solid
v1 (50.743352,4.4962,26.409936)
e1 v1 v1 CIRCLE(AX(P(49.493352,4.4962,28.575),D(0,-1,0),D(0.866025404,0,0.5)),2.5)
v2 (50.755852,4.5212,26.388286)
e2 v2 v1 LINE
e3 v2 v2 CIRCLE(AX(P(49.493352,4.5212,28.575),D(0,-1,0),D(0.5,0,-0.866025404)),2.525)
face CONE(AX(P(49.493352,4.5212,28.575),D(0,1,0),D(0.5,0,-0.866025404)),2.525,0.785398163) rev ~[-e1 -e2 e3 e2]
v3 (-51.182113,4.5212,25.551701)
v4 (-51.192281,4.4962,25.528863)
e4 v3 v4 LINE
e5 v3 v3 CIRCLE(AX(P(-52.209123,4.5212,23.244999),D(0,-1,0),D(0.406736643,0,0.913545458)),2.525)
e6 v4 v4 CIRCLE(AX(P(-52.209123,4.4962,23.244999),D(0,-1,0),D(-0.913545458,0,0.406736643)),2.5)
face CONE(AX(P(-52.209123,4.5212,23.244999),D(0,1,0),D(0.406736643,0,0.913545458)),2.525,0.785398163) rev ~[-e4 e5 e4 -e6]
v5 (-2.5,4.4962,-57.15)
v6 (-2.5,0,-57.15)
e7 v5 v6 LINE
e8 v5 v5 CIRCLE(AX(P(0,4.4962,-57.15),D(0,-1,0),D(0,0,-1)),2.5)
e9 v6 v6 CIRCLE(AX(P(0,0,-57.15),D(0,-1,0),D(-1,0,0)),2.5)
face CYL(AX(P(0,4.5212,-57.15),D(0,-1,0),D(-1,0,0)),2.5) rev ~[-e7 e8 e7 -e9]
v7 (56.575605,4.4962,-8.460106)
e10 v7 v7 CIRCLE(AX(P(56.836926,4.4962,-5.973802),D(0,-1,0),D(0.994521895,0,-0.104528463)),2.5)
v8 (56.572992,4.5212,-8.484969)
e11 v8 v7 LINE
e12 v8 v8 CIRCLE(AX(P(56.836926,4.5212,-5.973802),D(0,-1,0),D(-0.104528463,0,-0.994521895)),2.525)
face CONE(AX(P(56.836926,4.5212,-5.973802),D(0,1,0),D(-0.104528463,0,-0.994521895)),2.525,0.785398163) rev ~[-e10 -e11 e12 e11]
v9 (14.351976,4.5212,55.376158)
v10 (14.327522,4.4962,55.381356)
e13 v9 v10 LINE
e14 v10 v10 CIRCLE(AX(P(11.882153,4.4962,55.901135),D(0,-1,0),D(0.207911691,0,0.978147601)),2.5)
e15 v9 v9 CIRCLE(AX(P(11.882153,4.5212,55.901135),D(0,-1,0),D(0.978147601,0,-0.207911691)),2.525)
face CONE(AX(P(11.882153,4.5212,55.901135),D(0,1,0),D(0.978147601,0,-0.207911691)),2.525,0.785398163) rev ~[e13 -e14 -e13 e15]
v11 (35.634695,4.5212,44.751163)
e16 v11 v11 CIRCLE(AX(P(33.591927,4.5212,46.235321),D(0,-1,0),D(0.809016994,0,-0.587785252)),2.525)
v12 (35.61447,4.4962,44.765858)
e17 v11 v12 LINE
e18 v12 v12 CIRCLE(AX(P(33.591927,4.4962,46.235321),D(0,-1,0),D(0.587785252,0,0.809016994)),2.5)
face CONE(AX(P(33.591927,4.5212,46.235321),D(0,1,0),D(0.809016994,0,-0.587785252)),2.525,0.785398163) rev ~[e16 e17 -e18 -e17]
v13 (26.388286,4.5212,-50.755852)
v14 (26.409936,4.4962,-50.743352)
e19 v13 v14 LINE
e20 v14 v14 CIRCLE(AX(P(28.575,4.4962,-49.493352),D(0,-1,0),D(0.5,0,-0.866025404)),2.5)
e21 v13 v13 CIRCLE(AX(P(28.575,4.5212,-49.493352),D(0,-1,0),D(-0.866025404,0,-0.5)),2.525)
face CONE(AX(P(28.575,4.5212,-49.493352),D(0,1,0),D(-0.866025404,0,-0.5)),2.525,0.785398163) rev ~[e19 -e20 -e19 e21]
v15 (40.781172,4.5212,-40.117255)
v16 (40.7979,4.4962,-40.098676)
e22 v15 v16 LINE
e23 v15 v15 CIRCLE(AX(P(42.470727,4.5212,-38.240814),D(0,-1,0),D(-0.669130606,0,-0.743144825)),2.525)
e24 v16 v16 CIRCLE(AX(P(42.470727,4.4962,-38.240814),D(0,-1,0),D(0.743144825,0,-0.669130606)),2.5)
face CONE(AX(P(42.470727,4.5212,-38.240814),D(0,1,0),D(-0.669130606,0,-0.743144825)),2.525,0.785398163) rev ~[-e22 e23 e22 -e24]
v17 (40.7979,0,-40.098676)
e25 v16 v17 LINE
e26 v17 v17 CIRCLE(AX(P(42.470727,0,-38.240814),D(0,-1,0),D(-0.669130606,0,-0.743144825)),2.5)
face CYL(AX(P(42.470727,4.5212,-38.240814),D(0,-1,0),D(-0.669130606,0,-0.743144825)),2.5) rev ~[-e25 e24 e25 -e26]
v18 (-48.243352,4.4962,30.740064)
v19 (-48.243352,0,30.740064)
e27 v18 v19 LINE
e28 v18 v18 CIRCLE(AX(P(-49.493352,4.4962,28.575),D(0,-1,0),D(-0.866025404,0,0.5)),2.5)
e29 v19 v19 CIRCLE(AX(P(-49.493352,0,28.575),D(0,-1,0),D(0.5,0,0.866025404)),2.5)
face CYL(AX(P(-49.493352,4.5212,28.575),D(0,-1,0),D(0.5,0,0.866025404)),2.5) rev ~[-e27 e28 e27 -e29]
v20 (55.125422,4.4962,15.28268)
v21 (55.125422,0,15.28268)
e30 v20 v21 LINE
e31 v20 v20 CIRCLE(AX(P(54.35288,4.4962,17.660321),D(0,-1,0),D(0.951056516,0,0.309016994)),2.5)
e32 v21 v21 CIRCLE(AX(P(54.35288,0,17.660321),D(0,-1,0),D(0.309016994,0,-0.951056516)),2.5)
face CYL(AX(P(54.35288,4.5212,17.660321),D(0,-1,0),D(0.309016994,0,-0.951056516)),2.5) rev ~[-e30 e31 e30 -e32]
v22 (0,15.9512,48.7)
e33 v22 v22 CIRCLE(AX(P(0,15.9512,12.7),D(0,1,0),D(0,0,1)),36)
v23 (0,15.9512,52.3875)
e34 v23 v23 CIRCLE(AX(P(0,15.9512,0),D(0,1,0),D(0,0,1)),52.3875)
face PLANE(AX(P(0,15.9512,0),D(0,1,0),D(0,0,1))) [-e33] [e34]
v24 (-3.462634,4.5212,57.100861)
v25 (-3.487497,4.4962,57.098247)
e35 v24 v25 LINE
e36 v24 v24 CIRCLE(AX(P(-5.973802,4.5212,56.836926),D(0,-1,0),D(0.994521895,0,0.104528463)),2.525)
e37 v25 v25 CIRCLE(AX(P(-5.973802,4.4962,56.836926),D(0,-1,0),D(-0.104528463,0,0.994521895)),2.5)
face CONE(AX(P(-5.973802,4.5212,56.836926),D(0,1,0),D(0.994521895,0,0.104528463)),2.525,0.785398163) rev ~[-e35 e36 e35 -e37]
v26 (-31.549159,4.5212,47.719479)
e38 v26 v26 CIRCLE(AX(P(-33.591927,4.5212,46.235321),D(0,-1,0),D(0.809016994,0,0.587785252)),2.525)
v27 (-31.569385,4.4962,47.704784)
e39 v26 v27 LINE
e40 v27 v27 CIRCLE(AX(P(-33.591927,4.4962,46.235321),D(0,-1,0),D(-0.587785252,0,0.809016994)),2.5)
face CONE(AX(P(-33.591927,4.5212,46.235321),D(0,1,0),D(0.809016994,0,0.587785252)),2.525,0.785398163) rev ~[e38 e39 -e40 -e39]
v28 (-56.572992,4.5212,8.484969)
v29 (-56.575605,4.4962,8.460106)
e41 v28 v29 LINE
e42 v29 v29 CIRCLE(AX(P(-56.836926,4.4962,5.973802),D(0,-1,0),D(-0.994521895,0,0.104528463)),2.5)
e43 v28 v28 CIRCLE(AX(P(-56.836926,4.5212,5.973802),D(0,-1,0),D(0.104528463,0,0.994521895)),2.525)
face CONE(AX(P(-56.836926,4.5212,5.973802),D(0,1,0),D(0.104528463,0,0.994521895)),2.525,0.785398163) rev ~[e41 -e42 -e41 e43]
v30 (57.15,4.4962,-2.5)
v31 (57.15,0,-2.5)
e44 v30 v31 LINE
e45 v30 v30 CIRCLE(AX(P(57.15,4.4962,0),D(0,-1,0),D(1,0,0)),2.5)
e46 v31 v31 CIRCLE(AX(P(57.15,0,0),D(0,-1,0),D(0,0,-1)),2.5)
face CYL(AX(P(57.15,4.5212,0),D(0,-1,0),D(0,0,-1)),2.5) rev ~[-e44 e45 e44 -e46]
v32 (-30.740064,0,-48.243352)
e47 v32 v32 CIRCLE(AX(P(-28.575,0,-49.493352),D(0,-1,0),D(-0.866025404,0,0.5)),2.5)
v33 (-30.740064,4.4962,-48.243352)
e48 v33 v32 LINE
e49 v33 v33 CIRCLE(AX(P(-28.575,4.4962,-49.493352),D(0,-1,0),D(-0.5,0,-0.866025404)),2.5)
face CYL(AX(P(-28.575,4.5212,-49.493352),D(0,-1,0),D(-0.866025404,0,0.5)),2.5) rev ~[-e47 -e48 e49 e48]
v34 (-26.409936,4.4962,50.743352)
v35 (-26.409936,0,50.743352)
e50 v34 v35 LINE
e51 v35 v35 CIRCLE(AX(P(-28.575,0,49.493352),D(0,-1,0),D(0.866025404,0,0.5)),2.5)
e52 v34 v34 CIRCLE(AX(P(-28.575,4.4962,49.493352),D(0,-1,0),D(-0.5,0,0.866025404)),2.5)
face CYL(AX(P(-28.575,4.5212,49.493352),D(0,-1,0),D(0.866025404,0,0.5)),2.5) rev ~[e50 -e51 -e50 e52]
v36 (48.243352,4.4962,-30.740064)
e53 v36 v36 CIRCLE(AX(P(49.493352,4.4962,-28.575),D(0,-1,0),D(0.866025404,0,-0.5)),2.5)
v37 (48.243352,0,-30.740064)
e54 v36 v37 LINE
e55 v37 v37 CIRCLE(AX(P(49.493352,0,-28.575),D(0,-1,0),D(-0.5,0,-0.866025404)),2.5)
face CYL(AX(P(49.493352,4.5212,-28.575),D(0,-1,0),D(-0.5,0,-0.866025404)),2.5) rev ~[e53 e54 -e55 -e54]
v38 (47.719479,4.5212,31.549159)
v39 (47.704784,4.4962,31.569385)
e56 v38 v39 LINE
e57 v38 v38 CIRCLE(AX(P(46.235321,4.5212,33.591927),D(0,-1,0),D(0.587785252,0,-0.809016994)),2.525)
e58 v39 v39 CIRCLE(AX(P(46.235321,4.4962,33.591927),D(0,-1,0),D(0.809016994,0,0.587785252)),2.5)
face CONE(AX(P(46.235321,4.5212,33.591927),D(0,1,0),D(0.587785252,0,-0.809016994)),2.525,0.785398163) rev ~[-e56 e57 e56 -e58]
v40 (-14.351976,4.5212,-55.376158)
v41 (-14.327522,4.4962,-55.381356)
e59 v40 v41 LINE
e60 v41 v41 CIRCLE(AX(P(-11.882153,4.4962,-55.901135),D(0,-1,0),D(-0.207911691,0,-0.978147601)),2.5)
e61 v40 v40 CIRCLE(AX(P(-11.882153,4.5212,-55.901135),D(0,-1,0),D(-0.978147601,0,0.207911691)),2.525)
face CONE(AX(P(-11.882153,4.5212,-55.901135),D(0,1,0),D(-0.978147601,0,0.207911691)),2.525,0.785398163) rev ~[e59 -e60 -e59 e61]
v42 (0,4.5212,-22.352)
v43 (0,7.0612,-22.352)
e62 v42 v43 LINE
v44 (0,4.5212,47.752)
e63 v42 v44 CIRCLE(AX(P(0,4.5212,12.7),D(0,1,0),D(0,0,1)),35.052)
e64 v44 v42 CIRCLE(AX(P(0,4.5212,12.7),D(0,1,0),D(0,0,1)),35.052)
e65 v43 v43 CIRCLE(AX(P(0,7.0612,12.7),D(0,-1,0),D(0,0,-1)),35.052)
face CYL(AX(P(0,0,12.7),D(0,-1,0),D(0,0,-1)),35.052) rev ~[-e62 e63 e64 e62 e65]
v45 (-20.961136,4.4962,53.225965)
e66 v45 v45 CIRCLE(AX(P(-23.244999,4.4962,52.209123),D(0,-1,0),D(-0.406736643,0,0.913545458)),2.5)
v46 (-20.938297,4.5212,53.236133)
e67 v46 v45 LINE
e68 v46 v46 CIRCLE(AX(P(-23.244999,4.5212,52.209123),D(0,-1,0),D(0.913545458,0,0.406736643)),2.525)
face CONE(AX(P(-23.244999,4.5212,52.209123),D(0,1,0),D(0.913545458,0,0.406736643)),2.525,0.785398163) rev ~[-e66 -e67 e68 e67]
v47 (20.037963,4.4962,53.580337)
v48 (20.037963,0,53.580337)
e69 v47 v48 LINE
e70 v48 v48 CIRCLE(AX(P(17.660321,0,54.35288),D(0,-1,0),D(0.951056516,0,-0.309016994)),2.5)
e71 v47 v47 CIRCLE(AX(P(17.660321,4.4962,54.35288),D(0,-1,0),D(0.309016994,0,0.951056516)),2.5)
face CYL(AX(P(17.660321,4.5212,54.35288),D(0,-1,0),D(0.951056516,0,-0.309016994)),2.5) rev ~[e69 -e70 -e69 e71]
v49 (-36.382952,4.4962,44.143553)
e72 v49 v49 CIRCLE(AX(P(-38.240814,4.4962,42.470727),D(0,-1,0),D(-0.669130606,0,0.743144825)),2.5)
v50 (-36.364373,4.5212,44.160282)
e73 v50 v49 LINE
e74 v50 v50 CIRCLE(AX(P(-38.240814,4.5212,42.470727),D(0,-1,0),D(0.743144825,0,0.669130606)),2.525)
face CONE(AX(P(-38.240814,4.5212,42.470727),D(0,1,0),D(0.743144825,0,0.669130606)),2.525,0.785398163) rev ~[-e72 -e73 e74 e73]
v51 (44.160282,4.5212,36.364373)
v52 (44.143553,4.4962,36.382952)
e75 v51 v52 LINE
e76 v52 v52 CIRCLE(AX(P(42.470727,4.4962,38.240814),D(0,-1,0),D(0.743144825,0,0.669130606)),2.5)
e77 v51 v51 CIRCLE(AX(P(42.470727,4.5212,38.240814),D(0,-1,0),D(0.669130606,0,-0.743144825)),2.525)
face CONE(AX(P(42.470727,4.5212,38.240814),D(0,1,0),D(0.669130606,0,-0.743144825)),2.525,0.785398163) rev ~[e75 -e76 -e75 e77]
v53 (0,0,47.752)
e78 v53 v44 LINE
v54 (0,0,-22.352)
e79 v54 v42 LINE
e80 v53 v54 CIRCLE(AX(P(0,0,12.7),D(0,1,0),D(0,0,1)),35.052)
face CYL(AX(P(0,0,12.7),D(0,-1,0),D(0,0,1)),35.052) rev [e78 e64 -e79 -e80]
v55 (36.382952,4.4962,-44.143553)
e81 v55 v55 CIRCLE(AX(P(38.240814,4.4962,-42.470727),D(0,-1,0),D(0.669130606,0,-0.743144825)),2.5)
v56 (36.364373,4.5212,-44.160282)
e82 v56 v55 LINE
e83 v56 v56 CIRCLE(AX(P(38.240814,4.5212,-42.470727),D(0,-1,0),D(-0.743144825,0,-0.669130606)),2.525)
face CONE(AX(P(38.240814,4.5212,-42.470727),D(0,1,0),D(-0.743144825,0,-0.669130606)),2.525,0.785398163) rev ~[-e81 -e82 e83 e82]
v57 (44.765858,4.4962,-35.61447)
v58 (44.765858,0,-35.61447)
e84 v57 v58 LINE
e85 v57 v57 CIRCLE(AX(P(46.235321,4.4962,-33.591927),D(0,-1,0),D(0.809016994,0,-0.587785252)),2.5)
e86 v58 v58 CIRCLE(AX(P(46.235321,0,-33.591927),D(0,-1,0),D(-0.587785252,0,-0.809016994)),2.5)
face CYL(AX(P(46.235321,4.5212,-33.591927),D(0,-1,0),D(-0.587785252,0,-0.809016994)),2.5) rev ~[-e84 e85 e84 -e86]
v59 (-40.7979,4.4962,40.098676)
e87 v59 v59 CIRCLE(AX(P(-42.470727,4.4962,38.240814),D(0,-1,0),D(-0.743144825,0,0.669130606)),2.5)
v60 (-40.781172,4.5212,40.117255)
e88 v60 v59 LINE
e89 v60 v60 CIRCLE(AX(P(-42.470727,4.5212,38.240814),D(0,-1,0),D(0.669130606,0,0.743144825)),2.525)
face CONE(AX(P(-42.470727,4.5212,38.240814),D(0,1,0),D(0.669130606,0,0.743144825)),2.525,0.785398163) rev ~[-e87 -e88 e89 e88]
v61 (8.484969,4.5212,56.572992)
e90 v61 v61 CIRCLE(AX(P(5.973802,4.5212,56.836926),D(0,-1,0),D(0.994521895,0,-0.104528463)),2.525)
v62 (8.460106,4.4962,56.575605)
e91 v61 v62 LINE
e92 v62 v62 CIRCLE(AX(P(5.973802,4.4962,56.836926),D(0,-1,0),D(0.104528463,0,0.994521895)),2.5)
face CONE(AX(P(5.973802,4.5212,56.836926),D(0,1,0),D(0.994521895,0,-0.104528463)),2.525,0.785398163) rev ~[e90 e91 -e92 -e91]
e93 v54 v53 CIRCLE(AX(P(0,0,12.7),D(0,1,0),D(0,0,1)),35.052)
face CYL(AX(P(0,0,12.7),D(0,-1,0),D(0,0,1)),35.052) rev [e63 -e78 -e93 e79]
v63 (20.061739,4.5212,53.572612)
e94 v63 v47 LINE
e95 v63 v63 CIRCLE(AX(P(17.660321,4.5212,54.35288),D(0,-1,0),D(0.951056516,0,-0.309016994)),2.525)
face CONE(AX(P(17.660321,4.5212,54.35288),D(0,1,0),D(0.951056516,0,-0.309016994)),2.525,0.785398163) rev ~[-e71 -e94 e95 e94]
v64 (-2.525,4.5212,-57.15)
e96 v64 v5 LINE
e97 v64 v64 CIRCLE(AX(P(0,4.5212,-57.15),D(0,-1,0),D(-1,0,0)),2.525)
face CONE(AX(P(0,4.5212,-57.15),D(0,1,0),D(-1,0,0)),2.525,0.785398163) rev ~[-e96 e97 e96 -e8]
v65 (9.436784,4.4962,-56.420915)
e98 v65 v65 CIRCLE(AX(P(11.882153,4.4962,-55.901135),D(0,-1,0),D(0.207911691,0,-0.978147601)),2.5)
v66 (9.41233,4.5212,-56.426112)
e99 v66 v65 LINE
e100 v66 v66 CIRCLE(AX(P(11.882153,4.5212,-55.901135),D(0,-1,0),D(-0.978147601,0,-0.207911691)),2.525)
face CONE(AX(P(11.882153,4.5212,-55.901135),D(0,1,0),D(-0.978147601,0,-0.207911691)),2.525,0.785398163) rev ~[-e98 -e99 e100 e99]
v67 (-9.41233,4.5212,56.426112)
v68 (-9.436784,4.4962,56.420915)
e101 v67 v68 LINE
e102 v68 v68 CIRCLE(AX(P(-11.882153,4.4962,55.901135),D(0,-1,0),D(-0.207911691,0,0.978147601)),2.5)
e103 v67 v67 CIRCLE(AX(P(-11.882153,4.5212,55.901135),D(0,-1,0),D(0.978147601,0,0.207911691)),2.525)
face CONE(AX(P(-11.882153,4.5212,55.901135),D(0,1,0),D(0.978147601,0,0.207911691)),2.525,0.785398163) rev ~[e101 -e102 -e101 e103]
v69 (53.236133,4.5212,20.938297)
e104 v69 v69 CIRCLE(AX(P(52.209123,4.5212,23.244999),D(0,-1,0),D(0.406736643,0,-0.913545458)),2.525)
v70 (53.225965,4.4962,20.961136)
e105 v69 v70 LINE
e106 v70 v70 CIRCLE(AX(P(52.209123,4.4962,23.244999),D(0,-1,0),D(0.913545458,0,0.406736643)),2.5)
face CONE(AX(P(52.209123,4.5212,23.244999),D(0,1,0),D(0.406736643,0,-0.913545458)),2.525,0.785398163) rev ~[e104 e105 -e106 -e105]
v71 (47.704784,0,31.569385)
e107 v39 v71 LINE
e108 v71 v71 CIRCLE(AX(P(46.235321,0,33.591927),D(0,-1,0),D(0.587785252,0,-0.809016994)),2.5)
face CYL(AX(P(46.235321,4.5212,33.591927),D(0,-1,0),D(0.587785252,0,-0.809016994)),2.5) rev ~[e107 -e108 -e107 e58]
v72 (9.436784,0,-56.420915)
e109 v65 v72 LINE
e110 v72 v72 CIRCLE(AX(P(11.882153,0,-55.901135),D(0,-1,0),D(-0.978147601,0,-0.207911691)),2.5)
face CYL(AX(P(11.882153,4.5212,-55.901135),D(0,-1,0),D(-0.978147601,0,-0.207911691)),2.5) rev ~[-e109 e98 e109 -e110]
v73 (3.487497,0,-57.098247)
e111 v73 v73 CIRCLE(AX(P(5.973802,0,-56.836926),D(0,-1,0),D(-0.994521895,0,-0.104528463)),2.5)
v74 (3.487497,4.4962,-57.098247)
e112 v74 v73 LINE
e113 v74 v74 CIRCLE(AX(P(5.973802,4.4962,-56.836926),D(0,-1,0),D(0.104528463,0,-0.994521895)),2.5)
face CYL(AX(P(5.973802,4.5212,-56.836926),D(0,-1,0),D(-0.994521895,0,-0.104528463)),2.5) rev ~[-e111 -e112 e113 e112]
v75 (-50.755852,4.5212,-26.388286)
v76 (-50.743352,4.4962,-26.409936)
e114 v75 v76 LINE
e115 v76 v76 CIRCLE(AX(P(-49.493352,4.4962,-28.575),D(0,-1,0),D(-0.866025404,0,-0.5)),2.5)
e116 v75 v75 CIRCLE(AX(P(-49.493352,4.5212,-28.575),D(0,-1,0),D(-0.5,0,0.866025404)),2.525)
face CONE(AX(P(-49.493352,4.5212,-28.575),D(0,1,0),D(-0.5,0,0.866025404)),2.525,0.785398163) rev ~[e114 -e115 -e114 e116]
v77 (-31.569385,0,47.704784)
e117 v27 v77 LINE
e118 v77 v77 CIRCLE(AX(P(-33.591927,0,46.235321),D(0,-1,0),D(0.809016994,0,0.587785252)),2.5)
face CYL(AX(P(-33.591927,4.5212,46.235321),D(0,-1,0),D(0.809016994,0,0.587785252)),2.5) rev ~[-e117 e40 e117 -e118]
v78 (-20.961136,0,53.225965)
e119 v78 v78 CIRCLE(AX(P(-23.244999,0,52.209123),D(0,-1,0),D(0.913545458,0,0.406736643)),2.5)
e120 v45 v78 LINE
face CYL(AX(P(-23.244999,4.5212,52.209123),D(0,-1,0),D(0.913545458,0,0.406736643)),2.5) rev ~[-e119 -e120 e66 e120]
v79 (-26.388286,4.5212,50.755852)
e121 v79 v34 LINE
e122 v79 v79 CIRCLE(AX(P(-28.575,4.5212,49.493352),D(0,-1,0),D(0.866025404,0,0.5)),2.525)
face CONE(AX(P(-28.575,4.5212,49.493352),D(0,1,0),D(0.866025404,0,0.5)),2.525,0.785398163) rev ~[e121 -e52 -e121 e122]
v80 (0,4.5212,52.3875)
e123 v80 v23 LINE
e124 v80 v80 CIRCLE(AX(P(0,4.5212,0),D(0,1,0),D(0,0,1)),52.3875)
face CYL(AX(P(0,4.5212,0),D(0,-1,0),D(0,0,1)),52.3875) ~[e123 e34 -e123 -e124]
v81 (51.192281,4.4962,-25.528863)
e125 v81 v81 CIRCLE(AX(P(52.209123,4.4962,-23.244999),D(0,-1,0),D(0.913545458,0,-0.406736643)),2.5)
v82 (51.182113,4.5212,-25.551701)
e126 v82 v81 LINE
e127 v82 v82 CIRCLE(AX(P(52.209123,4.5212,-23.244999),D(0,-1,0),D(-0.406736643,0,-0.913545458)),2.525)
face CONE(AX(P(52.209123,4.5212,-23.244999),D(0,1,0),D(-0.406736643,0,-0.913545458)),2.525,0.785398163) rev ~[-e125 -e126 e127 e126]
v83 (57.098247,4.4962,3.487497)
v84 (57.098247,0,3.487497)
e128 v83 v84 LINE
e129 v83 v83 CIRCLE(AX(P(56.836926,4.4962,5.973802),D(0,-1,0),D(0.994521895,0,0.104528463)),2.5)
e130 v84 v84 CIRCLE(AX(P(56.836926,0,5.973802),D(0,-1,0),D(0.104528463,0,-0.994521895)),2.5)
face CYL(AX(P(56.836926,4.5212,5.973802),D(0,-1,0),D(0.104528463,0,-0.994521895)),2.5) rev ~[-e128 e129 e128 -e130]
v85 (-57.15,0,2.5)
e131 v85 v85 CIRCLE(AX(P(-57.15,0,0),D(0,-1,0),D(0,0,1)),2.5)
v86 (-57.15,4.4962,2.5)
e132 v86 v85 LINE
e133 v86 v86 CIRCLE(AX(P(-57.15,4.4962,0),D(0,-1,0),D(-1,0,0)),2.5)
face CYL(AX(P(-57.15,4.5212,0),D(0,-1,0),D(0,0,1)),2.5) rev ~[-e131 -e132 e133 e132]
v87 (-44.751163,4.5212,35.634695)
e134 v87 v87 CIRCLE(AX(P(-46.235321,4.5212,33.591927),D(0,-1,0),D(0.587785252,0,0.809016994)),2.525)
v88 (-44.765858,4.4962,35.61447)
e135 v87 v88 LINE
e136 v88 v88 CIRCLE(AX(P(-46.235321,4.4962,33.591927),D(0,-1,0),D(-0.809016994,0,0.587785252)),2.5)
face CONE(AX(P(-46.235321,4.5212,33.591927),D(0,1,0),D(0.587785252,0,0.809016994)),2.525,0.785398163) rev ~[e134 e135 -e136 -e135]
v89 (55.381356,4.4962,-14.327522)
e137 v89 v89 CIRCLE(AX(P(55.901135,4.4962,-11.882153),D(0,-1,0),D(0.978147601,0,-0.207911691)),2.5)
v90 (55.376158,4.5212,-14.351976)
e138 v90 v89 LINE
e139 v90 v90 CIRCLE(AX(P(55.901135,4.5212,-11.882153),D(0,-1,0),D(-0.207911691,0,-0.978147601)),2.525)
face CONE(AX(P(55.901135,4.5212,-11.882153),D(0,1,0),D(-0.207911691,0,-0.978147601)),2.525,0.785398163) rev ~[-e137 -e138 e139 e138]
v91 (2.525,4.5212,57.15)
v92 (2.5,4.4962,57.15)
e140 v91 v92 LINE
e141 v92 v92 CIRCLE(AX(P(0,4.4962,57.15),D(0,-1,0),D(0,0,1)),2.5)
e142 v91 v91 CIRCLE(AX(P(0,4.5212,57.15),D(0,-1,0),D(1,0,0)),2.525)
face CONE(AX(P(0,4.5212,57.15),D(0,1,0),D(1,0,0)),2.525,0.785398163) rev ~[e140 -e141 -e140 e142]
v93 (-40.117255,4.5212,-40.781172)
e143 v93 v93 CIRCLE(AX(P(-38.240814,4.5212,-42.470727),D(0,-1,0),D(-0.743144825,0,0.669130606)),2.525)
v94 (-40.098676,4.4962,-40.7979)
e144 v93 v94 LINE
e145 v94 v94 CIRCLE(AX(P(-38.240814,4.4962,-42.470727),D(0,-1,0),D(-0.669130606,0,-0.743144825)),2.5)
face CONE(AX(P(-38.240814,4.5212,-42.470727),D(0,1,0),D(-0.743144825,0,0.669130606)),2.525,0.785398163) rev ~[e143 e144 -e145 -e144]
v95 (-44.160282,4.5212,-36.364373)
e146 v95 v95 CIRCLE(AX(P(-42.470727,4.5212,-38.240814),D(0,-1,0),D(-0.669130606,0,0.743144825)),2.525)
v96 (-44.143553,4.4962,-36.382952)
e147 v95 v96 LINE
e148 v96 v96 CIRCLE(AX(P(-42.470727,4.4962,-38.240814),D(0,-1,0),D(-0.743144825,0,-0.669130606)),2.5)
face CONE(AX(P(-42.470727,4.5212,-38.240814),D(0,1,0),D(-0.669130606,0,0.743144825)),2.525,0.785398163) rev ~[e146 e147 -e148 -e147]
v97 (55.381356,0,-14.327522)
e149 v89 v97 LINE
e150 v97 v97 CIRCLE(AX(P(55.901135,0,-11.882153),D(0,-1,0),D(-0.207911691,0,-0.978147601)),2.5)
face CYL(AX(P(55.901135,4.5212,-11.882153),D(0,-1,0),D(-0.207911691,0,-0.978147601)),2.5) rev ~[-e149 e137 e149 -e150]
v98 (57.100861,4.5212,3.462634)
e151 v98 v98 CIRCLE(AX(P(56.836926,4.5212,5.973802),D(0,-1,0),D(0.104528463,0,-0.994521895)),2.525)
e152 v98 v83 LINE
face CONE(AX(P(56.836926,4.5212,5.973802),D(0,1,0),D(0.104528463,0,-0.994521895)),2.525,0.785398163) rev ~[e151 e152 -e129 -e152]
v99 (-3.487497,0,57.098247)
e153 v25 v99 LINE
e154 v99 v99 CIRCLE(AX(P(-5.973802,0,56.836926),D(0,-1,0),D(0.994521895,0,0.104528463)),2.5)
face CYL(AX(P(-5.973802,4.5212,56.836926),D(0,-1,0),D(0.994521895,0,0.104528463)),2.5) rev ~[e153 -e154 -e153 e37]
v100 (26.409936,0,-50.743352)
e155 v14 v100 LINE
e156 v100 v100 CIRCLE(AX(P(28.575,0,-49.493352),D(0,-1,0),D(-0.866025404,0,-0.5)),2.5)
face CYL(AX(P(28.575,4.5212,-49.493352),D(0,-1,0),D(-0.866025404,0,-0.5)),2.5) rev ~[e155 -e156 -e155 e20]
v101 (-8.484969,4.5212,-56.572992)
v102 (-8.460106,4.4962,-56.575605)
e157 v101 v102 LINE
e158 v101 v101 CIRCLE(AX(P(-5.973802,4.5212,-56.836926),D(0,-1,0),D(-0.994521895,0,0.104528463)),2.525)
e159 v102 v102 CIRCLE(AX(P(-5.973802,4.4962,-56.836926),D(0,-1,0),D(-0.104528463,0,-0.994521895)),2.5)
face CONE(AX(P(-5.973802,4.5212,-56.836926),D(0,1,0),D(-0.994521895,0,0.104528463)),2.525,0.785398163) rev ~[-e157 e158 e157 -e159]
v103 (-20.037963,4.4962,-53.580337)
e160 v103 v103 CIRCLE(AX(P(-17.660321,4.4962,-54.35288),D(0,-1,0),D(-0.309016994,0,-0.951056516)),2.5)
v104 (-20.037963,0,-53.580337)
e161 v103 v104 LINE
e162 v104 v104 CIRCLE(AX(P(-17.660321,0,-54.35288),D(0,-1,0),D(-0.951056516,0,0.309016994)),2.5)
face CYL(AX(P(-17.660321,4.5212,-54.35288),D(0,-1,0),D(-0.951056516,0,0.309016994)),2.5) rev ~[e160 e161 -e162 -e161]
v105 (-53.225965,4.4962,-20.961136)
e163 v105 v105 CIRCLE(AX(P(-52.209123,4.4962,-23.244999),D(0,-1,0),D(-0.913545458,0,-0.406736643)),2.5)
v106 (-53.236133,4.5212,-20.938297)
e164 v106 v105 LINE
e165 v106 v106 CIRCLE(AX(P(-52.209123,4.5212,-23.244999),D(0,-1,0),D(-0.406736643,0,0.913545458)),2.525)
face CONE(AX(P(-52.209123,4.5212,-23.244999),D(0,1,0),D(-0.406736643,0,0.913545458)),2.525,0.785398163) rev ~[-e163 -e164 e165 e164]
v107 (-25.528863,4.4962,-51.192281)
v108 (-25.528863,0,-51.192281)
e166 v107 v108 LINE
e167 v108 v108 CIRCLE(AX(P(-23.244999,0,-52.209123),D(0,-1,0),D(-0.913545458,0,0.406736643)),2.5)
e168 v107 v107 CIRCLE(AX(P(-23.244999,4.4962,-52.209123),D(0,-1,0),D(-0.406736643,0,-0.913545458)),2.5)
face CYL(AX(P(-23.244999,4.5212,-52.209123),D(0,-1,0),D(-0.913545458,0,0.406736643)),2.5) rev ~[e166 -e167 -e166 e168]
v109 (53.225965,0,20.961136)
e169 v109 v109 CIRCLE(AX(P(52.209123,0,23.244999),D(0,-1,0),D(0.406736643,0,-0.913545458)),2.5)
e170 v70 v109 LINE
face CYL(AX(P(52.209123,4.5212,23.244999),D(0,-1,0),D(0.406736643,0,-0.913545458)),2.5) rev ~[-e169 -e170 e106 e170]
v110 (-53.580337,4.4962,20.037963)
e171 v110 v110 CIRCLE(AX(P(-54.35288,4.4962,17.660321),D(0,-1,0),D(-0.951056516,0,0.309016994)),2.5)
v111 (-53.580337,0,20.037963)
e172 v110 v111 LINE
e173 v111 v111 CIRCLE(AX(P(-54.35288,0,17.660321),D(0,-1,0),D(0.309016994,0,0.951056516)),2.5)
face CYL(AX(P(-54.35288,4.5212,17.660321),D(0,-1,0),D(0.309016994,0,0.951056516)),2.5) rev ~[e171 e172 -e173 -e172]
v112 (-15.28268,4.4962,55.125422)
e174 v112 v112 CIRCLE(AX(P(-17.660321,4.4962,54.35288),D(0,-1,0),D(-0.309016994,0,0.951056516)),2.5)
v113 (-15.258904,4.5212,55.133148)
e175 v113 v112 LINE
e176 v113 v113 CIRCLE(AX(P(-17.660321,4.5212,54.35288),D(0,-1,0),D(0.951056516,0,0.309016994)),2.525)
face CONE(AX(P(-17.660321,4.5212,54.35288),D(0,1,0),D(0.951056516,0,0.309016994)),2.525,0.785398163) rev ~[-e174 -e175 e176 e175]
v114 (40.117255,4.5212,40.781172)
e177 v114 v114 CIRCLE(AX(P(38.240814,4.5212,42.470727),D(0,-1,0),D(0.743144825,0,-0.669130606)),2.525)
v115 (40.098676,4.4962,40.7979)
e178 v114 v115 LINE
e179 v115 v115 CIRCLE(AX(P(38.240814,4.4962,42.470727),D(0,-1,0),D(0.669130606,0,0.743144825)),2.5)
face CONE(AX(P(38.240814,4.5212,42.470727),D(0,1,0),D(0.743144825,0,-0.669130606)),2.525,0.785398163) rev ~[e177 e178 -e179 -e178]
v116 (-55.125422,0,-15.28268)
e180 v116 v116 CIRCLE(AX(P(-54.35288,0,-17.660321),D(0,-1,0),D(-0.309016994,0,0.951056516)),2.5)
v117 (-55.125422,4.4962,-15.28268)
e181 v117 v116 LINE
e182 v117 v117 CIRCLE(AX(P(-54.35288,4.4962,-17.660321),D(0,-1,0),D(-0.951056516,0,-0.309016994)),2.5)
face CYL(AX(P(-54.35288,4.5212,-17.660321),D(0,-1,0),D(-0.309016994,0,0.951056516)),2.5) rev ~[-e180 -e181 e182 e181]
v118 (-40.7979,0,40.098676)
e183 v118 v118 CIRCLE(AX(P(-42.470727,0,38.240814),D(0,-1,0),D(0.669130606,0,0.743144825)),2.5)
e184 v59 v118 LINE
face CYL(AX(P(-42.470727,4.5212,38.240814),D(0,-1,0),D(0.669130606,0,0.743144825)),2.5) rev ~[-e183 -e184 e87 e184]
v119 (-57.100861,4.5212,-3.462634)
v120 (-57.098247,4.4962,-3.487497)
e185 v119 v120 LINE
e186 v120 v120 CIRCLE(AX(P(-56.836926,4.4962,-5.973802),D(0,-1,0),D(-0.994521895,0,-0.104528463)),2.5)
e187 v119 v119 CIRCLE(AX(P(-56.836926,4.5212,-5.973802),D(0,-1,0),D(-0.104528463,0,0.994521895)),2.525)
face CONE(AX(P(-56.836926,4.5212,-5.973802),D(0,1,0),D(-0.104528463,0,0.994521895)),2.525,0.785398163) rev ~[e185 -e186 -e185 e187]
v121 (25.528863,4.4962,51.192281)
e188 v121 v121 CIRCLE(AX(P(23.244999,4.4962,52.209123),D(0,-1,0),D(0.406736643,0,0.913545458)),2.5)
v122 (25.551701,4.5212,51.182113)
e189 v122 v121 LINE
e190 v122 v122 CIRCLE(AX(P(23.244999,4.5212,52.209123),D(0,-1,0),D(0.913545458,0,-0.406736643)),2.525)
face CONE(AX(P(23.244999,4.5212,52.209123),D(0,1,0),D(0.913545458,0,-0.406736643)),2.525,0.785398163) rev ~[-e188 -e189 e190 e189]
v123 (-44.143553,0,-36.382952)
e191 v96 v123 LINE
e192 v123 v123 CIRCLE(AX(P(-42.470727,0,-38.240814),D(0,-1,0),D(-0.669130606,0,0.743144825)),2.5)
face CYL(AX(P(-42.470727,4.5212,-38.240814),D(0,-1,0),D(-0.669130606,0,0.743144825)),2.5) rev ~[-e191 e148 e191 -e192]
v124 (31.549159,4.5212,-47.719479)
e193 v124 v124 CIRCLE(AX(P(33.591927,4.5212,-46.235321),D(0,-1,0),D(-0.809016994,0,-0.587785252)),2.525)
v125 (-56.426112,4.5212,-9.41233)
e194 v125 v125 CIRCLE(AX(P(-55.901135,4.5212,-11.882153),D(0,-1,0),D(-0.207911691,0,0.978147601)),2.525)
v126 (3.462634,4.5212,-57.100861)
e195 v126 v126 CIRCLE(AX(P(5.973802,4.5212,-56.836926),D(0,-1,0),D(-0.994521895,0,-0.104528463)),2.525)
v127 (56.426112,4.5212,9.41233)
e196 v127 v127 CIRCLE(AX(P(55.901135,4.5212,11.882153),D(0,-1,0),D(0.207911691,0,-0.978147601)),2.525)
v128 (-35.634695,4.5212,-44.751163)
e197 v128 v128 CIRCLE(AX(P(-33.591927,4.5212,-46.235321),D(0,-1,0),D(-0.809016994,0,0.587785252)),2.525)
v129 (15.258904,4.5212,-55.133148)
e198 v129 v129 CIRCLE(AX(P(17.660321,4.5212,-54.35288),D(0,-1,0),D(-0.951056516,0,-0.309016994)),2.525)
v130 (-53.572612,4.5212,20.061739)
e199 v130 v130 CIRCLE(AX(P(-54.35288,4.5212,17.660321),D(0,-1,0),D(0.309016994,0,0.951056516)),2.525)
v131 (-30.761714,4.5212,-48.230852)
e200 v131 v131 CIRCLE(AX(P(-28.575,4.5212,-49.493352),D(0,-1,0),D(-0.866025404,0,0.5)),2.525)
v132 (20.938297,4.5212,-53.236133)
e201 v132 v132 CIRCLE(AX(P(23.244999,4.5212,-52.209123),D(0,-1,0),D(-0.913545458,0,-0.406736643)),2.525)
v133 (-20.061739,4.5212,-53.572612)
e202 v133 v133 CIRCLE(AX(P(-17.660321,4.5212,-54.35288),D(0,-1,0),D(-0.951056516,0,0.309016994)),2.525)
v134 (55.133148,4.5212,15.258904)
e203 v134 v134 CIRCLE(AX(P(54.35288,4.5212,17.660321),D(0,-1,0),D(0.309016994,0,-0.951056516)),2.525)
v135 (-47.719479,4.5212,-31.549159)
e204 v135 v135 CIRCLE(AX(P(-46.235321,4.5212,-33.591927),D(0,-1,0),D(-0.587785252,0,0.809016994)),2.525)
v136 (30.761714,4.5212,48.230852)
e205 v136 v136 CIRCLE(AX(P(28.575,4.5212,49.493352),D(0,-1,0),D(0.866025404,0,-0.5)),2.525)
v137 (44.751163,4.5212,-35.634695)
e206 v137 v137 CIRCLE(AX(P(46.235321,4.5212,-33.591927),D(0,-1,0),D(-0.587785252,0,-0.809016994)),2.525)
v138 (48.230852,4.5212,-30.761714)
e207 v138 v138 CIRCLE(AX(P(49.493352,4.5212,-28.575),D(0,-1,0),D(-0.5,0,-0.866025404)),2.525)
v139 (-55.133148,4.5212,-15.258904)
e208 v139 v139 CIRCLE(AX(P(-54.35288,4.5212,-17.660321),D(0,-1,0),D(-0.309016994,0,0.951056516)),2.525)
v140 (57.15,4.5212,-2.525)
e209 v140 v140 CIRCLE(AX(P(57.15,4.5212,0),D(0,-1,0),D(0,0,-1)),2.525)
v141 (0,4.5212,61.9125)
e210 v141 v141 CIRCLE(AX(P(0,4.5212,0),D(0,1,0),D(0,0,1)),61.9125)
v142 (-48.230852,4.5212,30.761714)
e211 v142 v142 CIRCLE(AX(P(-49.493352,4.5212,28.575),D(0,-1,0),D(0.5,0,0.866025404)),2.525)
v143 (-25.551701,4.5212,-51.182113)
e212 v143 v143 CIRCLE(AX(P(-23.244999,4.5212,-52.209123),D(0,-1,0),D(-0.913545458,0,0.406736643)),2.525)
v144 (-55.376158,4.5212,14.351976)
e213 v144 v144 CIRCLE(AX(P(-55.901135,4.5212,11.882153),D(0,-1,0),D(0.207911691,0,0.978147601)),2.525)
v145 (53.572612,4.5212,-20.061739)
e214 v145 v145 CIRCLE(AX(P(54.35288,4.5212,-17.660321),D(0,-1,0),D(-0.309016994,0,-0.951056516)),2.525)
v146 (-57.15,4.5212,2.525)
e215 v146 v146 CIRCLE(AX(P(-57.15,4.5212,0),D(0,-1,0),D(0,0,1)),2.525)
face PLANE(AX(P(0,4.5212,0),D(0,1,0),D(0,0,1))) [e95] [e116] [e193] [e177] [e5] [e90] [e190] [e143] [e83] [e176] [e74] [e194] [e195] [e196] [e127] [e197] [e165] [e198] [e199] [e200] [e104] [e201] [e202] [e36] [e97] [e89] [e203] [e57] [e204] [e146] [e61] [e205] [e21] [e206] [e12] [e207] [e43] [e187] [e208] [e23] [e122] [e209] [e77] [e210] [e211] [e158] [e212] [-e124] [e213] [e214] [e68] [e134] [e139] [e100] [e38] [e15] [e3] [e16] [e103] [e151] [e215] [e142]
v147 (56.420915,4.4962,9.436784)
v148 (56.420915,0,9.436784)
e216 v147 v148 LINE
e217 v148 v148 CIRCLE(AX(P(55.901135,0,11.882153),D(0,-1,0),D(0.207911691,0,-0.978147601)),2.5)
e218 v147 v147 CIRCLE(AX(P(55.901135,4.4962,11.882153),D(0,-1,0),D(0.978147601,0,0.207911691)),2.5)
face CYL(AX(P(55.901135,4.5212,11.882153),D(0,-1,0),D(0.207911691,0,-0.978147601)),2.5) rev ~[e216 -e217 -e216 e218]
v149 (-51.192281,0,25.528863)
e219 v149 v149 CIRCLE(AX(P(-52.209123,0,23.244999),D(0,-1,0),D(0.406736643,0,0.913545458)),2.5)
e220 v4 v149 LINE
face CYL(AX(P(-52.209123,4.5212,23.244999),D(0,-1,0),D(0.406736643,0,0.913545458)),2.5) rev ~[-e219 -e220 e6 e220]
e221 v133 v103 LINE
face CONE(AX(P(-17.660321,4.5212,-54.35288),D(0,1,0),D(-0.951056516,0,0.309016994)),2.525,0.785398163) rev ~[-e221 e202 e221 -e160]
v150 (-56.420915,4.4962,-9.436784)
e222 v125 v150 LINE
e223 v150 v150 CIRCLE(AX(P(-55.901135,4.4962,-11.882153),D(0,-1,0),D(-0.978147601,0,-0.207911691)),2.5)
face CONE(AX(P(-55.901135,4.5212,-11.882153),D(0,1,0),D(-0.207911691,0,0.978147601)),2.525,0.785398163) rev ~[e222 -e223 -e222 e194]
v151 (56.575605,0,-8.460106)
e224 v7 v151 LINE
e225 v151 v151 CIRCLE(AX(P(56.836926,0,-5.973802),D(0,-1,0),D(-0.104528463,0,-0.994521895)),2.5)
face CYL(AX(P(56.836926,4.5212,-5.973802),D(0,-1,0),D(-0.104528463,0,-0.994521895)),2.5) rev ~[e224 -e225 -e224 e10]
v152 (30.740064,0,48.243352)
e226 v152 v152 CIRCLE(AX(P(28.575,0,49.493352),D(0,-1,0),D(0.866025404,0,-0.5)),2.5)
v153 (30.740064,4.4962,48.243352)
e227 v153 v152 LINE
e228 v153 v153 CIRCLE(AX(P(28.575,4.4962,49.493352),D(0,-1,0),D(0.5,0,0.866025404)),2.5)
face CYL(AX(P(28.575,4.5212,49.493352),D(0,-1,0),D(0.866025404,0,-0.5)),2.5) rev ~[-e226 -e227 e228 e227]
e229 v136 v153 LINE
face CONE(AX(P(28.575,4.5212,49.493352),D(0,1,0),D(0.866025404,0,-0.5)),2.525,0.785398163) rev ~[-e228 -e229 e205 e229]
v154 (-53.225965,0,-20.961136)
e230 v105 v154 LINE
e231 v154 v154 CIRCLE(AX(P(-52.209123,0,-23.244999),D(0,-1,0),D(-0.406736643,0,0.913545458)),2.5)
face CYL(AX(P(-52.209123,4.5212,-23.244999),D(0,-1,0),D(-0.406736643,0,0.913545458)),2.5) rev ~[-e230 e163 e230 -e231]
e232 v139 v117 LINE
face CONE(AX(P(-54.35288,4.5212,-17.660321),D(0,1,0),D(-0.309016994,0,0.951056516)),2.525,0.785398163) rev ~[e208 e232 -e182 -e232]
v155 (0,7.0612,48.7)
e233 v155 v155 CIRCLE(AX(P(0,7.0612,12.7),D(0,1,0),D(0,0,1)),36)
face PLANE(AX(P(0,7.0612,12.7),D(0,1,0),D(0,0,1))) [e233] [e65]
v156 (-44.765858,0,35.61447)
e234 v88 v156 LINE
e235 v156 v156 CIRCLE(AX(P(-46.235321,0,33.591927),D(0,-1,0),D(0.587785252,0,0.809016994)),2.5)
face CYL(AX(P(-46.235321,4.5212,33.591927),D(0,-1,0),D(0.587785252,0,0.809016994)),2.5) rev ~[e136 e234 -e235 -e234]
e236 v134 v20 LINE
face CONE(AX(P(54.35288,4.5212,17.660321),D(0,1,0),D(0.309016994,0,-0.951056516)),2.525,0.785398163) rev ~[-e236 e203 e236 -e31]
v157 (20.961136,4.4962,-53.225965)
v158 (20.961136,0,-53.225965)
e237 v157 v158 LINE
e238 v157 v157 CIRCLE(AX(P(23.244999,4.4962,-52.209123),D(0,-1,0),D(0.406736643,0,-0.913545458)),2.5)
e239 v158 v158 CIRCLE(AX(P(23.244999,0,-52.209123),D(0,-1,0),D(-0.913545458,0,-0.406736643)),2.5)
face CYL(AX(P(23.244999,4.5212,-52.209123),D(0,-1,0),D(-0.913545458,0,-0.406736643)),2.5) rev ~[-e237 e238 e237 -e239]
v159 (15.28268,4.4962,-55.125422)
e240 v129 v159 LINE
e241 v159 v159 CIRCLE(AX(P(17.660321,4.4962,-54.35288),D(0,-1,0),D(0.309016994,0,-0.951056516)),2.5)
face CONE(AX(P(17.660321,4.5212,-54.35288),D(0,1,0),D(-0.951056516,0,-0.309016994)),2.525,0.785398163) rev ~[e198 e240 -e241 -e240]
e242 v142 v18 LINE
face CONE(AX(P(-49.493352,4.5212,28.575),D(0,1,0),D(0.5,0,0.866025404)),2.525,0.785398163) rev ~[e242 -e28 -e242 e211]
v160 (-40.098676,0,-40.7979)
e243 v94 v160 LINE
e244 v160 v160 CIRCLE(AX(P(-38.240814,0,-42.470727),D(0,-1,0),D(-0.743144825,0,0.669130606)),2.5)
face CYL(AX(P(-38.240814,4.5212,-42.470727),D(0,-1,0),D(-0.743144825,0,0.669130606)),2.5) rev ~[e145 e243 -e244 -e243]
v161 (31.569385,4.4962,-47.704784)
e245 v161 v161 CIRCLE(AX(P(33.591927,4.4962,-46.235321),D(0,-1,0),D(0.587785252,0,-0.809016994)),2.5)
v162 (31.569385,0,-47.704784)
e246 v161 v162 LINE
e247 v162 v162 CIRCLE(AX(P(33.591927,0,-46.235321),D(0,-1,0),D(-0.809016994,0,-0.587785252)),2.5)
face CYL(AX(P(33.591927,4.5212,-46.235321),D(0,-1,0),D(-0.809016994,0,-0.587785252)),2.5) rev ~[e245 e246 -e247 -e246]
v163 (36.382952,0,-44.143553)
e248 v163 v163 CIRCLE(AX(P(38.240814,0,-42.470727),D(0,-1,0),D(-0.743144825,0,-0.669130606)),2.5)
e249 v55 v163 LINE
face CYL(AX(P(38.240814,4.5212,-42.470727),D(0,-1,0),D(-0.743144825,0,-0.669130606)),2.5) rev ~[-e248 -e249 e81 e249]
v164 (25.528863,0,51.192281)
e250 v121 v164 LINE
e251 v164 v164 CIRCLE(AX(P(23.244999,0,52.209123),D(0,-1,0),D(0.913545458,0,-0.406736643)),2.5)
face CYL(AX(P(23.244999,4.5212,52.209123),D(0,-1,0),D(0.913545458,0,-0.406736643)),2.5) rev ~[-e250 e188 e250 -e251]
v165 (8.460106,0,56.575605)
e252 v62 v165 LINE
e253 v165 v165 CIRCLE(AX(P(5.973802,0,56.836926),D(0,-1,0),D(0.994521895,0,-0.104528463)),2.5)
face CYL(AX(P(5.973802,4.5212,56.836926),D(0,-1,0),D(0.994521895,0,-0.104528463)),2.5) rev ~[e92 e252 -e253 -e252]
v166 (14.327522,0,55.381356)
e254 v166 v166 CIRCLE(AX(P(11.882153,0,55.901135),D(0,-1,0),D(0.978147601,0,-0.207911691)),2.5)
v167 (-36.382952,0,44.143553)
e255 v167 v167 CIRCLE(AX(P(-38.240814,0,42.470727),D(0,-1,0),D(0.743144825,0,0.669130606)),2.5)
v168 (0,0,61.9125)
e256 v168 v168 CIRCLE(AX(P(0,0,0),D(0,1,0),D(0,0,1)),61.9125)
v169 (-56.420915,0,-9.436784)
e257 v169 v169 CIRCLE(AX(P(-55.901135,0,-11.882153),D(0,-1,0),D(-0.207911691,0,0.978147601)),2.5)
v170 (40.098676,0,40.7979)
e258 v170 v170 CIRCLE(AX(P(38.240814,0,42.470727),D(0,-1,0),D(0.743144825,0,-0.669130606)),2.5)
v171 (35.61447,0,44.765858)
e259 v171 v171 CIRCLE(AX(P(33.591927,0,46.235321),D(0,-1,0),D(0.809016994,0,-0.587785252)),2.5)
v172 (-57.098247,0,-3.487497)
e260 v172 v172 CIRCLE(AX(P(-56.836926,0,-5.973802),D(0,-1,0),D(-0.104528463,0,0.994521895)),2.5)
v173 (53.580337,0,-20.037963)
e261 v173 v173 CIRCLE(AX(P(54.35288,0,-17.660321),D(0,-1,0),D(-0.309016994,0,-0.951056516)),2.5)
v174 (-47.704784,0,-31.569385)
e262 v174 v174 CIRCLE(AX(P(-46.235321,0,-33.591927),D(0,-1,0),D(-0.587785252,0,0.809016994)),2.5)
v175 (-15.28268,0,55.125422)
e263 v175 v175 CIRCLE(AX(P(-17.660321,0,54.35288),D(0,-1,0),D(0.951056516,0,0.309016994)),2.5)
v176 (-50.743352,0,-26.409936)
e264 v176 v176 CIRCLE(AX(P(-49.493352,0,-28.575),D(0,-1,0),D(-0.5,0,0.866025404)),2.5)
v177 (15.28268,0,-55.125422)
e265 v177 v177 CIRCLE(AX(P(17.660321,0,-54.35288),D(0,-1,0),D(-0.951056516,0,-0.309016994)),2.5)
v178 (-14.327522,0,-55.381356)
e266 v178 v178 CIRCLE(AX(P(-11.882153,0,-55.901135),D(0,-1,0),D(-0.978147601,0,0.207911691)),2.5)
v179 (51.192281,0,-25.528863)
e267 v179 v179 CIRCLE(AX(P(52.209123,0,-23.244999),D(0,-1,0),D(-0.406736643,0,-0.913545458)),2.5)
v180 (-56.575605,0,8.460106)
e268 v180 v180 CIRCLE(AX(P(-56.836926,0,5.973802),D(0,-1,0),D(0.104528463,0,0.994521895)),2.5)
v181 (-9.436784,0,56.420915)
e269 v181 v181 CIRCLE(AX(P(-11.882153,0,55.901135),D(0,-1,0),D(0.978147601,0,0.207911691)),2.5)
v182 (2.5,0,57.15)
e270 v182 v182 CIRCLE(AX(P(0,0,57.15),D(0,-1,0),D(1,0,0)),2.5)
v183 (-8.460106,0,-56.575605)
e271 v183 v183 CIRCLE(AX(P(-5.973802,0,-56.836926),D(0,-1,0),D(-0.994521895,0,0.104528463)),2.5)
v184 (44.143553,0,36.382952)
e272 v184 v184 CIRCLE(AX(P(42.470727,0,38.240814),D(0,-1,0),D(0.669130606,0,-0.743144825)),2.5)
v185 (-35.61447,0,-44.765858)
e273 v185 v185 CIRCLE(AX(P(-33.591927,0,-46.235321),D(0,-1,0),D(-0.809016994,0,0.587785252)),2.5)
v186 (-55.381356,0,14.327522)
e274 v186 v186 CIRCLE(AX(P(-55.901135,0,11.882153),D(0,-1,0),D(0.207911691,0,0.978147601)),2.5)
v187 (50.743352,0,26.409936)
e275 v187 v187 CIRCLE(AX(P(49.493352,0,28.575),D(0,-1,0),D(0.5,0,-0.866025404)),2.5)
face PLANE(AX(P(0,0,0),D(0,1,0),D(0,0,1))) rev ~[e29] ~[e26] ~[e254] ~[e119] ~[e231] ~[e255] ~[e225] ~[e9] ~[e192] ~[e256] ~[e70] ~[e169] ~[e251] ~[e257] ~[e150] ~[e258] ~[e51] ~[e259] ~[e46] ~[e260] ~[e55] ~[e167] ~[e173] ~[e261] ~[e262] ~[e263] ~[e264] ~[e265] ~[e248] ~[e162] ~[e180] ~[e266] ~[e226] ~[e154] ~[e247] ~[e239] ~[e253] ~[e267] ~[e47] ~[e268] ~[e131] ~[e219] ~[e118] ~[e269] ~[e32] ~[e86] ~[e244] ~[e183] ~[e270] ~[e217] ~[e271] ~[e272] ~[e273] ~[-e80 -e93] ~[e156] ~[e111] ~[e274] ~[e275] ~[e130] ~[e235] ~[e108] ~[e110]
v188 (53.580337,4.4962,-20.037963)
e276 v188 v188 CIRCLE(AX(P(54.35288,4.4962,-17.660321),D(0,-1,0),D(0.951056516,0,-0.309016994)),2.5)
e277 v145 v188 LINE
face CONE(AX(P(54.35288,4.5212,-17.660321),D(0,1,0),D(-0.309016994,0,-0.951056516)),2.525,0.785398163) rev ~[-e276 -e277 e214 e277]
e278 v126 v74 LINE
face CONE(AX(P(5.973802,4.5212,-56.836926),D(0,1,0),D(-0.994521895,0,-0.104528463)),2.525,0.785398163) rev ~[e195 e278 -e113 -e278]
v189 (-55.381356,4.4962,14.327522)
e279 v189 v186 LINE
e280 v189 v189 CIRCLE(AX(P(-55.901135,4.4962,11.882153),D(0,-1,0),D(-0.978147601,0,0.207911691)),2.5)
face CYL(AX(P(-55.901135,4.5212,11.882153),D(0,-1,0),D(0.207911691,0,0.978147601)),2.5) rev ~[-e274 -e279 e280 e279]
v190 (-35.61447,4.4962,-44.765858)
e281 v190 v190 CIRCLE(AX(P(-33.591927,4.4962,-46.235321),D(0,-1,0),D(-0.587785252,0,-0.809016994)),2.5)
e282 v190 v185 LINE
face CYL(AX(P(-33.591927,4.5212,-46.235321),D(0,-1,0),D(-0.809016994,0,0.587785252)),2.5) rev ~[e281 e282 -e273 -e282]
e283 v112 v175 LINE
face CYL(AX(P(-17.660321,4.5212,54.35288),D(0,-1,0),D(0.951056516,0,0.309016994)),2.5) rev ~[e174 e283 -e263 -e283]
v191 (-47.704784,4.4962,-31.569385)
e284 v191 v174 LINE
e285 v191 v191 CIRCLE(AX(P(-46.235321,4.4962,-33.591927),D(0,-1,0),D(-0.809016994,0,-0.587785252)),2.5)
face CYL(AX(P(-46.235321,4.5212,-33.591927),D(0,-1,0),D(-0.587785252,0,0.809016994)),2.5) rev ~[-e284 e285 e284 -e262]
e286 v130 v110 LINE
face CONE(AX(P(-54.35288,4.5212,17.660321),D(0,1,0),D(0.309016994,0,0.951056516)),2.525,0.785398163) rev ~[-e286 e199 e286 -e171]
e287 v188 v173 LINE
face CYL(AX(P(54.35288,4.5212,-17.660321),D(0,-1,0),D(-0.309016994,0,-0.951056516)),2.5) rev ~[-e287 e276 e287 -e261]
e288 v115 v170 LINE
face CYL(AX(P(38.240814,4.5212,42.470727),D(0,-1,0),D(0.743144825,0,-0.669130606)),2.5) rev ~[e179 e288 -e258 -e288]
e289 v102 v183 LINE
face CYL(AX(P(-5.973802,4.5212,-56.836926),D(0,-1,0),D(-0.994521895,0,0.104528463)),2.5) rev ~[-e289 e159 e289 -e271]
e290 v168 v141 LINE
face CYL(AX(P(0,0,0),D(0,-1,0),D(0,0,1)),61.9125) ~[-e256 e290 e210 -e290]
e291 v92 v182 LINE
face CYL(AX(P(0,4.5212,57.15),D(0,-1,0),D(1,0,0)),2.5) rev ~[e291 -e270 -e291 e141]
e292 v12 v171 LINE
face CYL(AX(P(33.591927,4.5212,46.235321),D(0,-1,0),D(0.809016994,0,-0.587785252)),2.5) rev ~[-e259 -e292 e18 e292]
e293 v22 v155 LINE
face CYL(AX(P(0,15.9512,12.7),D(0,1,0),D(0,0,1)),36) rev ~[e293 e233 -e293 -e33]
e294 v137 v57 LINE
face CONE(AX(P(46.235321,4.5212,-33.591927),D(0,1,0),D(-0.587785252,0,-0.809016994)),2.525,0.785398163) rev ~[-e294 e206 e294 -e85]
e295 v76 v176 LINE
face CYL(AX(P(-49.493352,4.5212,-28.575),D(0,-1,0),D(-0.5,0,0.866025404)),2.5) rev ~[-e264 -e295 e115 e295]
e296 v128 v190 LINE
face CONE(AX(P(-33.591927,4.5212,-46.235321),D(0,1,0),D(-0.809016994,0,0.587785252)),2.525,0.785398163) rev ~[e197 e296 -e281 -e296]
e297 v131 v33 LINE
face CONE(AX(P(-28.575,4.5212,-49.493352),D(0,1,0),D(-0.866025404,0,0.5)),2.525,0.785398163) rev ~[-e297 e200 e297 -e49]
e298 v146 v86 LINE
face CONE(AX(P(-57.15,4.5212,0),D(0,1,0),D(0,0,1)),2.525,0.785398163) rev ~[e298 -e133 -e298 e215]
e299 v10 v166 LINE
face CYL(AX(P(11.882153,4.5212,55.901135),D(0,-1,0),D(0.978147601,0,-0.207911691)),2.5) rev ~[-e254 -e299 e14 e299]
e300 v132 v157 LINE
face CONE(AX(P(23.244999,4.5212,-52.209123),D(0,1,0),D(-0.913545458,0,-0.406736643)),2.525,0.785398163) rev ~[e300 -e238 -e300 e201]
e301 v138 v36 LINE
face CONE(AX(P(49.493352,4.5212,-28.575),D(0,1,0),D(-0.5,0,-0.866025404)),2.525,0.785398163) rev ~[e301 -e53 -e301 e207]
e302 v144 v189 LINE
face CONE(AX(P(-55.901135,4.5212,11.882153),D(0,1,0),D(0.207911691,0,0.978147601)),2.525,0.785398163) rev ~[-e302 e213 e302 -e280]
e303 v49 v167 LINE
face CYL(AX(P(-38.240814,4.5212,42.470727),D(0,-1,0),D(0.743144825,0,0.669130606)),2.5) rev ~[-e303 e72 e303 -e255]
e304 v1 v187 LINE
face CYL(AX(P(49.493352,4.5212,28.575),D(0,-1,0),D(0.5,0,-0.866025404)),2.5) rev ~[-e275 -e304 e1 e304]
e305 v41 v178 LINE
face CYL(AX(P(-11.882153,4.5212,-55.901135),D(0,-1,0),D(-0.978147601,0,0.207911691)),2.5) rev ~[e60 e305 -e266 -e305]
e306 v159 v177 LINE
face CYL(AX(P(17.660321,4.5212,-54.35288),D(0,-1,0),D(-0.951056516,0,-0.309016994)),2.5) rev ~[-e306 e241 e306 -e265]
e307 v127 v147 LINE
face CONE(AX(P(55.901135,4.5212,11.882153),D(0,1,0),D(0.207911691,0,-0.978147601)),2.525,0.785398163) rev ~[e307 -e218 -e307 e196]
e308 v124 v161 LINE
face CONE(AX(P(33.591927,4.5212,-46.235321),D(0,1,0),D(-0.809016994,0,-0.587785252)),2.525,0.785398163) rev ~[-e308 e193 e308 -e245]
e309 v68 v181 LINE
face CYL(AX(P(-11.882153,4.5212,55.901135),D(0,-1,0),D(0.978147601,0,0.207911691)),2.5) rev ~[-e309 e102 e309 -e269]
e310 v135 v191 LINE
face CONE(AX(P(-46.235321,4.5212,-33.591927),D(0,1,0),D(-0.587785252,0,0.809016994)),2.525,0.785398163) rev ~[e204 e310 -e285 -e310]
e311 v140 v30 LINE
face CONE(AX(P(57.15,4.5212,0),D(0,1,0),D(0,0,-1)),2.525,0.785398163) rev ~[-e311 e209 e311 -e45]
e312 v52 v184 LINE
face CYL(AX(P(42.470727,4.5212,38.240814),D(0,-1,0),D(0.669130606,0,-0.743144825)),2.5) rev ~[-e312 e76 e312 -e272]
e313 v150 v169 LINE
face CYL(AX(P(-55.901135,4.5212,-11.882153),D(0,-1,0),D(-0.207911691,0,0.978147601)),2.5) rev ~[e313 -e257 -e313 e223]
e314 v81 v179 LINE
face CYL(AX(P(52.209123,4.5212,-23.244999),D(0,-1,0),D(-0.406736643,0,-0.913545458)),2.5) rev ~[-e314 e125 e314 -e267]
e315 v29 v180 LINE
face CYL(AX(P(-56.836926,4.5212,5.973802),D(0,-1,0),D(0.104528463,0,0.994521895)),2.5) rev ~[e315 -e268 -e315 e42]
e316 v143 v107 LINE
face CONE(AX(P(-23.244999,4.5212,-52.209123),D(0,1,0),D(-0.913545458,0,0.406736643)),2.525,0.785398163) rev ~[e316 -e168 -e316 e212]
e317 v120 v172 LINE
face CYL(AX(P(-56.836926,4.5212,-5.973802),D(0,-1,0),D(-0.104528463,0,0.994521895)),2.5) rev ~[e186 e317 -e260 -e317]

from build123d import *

# Parameters (mm, degrees)
SKETCH1_R                       = 61.9125
SKETCH1_R_2                     = 35.052
BOSS_EXTRUDE1_DEPTH             = 4.5212
SKETCH3_R                       = 52.3875
BOSS_EXTRUDE2_DEPTH             = 11.43
SKETCH4_R                       = 35.052
CUT_EXTRUDE1_DEPTH              = 89.998629731
SKETCH9_R                       = 36.000000009
CUT_EXTRUDE3_DEPTH              = 8.89
F_5_0MM_DOWEL_HOLE1_D           = 5
F_5_0MM_DOWEL_HOLE1_CSINK_D     = 5.05
F_5_0MM_DOWEL_HOLE1_CSINK_ANGLE = 90
CIRPATTERN1_COUNT               = 60


with BuildPart() as part:
    # Sketch1 → Boss-Extrude1 (new body)
    with BuildSketch(Plane(origin=(0, 0, 0), x_dir=(1, 0, 0), z_dir=(0, 1, 0))):
        with Locations(Location((0, 0, 0), (0, 0, 270))):
            Circle(SKETCH1_R)
        with Locations(Location((0, -12.7, 0), (0, 0, 270))):
            Circle(SKETCH1_R_2, mode=Mode.SUBTRACT)
    extrude(amount=BOSS_EXTRUDE1_DEPTH)

    # Sketch3 → Boss-Extrude2 (add)
    with BuildSketch(Plane(origin=(0, 4.5212, 0), x_dir=(1, 0, 0), z_dir=(0, 1, 0))):
        with Locations(Location((0, 0, 0), (0, 0, 270))):
            Circle(SKETCH3_R)
    extrude(amount=BOSS_EXTRUDE2_DEPTH)

    # Sketch4 → Cut-Extrude1 (cut, through all)
    with BuildSketch(Plane.XZ):
        with Locations(Location((0, 12.7, 0), (0, 0, 270))):
            Circle(SKETCH4_R)
    extrude(amount=-CUT_EXTRUDE1_DEPTH, mode=Mode.SUBTRACT)

    # Sketch9 → Cut-Extrude3 (cut)
    with BuildSketch(Plane(origin=(0, 15.9512, 0), x_dir=(1, 0, 0), z_dir=(0, 1, 0))):
        with Locations(Location((0, -12.7, 0), (0, 0, 270))):
            Circle(SKETCH9_R)
    extrude(amount=-CUT_EXTRUDE3_DEPTH, mode=Mode.SUBTRACT)

    # Ø5.0mm Dowel Hole1 (through all)
    with Locations(Plane(origin=(0, 4.5212, 0), x_dir=(1, 0, 0), z_dir=(0, 1, 0))):
        with Locations((0, 57.15)):
            f_5_0mm_dowel_hole1 = CounterSinkHole(F_5_0MM_DOWEL_HOLE1_D / 2, F_5_0MM_DOWEL_HOLE1_CSINK_D / 2, counter_sink_angle=F_5_0MM_DOWEL_HOLE1_CSINK_ANGLE)

    # CirPattern1: Ø5.0mm Dowel Hole1 ×60 about axis
    cirpattern1_axis = Axis((0, 0, 0), (0, 1, 0))
    for i in range(1, CIRPATTERN1_COUNT):
        add(f_5_0mm_dowel_hole1.rotate(cirpattern1_axis, i * 360 / CIRPATTERN1_COUNT), mode=Mode.SUBTRACT)


solid = part.part
